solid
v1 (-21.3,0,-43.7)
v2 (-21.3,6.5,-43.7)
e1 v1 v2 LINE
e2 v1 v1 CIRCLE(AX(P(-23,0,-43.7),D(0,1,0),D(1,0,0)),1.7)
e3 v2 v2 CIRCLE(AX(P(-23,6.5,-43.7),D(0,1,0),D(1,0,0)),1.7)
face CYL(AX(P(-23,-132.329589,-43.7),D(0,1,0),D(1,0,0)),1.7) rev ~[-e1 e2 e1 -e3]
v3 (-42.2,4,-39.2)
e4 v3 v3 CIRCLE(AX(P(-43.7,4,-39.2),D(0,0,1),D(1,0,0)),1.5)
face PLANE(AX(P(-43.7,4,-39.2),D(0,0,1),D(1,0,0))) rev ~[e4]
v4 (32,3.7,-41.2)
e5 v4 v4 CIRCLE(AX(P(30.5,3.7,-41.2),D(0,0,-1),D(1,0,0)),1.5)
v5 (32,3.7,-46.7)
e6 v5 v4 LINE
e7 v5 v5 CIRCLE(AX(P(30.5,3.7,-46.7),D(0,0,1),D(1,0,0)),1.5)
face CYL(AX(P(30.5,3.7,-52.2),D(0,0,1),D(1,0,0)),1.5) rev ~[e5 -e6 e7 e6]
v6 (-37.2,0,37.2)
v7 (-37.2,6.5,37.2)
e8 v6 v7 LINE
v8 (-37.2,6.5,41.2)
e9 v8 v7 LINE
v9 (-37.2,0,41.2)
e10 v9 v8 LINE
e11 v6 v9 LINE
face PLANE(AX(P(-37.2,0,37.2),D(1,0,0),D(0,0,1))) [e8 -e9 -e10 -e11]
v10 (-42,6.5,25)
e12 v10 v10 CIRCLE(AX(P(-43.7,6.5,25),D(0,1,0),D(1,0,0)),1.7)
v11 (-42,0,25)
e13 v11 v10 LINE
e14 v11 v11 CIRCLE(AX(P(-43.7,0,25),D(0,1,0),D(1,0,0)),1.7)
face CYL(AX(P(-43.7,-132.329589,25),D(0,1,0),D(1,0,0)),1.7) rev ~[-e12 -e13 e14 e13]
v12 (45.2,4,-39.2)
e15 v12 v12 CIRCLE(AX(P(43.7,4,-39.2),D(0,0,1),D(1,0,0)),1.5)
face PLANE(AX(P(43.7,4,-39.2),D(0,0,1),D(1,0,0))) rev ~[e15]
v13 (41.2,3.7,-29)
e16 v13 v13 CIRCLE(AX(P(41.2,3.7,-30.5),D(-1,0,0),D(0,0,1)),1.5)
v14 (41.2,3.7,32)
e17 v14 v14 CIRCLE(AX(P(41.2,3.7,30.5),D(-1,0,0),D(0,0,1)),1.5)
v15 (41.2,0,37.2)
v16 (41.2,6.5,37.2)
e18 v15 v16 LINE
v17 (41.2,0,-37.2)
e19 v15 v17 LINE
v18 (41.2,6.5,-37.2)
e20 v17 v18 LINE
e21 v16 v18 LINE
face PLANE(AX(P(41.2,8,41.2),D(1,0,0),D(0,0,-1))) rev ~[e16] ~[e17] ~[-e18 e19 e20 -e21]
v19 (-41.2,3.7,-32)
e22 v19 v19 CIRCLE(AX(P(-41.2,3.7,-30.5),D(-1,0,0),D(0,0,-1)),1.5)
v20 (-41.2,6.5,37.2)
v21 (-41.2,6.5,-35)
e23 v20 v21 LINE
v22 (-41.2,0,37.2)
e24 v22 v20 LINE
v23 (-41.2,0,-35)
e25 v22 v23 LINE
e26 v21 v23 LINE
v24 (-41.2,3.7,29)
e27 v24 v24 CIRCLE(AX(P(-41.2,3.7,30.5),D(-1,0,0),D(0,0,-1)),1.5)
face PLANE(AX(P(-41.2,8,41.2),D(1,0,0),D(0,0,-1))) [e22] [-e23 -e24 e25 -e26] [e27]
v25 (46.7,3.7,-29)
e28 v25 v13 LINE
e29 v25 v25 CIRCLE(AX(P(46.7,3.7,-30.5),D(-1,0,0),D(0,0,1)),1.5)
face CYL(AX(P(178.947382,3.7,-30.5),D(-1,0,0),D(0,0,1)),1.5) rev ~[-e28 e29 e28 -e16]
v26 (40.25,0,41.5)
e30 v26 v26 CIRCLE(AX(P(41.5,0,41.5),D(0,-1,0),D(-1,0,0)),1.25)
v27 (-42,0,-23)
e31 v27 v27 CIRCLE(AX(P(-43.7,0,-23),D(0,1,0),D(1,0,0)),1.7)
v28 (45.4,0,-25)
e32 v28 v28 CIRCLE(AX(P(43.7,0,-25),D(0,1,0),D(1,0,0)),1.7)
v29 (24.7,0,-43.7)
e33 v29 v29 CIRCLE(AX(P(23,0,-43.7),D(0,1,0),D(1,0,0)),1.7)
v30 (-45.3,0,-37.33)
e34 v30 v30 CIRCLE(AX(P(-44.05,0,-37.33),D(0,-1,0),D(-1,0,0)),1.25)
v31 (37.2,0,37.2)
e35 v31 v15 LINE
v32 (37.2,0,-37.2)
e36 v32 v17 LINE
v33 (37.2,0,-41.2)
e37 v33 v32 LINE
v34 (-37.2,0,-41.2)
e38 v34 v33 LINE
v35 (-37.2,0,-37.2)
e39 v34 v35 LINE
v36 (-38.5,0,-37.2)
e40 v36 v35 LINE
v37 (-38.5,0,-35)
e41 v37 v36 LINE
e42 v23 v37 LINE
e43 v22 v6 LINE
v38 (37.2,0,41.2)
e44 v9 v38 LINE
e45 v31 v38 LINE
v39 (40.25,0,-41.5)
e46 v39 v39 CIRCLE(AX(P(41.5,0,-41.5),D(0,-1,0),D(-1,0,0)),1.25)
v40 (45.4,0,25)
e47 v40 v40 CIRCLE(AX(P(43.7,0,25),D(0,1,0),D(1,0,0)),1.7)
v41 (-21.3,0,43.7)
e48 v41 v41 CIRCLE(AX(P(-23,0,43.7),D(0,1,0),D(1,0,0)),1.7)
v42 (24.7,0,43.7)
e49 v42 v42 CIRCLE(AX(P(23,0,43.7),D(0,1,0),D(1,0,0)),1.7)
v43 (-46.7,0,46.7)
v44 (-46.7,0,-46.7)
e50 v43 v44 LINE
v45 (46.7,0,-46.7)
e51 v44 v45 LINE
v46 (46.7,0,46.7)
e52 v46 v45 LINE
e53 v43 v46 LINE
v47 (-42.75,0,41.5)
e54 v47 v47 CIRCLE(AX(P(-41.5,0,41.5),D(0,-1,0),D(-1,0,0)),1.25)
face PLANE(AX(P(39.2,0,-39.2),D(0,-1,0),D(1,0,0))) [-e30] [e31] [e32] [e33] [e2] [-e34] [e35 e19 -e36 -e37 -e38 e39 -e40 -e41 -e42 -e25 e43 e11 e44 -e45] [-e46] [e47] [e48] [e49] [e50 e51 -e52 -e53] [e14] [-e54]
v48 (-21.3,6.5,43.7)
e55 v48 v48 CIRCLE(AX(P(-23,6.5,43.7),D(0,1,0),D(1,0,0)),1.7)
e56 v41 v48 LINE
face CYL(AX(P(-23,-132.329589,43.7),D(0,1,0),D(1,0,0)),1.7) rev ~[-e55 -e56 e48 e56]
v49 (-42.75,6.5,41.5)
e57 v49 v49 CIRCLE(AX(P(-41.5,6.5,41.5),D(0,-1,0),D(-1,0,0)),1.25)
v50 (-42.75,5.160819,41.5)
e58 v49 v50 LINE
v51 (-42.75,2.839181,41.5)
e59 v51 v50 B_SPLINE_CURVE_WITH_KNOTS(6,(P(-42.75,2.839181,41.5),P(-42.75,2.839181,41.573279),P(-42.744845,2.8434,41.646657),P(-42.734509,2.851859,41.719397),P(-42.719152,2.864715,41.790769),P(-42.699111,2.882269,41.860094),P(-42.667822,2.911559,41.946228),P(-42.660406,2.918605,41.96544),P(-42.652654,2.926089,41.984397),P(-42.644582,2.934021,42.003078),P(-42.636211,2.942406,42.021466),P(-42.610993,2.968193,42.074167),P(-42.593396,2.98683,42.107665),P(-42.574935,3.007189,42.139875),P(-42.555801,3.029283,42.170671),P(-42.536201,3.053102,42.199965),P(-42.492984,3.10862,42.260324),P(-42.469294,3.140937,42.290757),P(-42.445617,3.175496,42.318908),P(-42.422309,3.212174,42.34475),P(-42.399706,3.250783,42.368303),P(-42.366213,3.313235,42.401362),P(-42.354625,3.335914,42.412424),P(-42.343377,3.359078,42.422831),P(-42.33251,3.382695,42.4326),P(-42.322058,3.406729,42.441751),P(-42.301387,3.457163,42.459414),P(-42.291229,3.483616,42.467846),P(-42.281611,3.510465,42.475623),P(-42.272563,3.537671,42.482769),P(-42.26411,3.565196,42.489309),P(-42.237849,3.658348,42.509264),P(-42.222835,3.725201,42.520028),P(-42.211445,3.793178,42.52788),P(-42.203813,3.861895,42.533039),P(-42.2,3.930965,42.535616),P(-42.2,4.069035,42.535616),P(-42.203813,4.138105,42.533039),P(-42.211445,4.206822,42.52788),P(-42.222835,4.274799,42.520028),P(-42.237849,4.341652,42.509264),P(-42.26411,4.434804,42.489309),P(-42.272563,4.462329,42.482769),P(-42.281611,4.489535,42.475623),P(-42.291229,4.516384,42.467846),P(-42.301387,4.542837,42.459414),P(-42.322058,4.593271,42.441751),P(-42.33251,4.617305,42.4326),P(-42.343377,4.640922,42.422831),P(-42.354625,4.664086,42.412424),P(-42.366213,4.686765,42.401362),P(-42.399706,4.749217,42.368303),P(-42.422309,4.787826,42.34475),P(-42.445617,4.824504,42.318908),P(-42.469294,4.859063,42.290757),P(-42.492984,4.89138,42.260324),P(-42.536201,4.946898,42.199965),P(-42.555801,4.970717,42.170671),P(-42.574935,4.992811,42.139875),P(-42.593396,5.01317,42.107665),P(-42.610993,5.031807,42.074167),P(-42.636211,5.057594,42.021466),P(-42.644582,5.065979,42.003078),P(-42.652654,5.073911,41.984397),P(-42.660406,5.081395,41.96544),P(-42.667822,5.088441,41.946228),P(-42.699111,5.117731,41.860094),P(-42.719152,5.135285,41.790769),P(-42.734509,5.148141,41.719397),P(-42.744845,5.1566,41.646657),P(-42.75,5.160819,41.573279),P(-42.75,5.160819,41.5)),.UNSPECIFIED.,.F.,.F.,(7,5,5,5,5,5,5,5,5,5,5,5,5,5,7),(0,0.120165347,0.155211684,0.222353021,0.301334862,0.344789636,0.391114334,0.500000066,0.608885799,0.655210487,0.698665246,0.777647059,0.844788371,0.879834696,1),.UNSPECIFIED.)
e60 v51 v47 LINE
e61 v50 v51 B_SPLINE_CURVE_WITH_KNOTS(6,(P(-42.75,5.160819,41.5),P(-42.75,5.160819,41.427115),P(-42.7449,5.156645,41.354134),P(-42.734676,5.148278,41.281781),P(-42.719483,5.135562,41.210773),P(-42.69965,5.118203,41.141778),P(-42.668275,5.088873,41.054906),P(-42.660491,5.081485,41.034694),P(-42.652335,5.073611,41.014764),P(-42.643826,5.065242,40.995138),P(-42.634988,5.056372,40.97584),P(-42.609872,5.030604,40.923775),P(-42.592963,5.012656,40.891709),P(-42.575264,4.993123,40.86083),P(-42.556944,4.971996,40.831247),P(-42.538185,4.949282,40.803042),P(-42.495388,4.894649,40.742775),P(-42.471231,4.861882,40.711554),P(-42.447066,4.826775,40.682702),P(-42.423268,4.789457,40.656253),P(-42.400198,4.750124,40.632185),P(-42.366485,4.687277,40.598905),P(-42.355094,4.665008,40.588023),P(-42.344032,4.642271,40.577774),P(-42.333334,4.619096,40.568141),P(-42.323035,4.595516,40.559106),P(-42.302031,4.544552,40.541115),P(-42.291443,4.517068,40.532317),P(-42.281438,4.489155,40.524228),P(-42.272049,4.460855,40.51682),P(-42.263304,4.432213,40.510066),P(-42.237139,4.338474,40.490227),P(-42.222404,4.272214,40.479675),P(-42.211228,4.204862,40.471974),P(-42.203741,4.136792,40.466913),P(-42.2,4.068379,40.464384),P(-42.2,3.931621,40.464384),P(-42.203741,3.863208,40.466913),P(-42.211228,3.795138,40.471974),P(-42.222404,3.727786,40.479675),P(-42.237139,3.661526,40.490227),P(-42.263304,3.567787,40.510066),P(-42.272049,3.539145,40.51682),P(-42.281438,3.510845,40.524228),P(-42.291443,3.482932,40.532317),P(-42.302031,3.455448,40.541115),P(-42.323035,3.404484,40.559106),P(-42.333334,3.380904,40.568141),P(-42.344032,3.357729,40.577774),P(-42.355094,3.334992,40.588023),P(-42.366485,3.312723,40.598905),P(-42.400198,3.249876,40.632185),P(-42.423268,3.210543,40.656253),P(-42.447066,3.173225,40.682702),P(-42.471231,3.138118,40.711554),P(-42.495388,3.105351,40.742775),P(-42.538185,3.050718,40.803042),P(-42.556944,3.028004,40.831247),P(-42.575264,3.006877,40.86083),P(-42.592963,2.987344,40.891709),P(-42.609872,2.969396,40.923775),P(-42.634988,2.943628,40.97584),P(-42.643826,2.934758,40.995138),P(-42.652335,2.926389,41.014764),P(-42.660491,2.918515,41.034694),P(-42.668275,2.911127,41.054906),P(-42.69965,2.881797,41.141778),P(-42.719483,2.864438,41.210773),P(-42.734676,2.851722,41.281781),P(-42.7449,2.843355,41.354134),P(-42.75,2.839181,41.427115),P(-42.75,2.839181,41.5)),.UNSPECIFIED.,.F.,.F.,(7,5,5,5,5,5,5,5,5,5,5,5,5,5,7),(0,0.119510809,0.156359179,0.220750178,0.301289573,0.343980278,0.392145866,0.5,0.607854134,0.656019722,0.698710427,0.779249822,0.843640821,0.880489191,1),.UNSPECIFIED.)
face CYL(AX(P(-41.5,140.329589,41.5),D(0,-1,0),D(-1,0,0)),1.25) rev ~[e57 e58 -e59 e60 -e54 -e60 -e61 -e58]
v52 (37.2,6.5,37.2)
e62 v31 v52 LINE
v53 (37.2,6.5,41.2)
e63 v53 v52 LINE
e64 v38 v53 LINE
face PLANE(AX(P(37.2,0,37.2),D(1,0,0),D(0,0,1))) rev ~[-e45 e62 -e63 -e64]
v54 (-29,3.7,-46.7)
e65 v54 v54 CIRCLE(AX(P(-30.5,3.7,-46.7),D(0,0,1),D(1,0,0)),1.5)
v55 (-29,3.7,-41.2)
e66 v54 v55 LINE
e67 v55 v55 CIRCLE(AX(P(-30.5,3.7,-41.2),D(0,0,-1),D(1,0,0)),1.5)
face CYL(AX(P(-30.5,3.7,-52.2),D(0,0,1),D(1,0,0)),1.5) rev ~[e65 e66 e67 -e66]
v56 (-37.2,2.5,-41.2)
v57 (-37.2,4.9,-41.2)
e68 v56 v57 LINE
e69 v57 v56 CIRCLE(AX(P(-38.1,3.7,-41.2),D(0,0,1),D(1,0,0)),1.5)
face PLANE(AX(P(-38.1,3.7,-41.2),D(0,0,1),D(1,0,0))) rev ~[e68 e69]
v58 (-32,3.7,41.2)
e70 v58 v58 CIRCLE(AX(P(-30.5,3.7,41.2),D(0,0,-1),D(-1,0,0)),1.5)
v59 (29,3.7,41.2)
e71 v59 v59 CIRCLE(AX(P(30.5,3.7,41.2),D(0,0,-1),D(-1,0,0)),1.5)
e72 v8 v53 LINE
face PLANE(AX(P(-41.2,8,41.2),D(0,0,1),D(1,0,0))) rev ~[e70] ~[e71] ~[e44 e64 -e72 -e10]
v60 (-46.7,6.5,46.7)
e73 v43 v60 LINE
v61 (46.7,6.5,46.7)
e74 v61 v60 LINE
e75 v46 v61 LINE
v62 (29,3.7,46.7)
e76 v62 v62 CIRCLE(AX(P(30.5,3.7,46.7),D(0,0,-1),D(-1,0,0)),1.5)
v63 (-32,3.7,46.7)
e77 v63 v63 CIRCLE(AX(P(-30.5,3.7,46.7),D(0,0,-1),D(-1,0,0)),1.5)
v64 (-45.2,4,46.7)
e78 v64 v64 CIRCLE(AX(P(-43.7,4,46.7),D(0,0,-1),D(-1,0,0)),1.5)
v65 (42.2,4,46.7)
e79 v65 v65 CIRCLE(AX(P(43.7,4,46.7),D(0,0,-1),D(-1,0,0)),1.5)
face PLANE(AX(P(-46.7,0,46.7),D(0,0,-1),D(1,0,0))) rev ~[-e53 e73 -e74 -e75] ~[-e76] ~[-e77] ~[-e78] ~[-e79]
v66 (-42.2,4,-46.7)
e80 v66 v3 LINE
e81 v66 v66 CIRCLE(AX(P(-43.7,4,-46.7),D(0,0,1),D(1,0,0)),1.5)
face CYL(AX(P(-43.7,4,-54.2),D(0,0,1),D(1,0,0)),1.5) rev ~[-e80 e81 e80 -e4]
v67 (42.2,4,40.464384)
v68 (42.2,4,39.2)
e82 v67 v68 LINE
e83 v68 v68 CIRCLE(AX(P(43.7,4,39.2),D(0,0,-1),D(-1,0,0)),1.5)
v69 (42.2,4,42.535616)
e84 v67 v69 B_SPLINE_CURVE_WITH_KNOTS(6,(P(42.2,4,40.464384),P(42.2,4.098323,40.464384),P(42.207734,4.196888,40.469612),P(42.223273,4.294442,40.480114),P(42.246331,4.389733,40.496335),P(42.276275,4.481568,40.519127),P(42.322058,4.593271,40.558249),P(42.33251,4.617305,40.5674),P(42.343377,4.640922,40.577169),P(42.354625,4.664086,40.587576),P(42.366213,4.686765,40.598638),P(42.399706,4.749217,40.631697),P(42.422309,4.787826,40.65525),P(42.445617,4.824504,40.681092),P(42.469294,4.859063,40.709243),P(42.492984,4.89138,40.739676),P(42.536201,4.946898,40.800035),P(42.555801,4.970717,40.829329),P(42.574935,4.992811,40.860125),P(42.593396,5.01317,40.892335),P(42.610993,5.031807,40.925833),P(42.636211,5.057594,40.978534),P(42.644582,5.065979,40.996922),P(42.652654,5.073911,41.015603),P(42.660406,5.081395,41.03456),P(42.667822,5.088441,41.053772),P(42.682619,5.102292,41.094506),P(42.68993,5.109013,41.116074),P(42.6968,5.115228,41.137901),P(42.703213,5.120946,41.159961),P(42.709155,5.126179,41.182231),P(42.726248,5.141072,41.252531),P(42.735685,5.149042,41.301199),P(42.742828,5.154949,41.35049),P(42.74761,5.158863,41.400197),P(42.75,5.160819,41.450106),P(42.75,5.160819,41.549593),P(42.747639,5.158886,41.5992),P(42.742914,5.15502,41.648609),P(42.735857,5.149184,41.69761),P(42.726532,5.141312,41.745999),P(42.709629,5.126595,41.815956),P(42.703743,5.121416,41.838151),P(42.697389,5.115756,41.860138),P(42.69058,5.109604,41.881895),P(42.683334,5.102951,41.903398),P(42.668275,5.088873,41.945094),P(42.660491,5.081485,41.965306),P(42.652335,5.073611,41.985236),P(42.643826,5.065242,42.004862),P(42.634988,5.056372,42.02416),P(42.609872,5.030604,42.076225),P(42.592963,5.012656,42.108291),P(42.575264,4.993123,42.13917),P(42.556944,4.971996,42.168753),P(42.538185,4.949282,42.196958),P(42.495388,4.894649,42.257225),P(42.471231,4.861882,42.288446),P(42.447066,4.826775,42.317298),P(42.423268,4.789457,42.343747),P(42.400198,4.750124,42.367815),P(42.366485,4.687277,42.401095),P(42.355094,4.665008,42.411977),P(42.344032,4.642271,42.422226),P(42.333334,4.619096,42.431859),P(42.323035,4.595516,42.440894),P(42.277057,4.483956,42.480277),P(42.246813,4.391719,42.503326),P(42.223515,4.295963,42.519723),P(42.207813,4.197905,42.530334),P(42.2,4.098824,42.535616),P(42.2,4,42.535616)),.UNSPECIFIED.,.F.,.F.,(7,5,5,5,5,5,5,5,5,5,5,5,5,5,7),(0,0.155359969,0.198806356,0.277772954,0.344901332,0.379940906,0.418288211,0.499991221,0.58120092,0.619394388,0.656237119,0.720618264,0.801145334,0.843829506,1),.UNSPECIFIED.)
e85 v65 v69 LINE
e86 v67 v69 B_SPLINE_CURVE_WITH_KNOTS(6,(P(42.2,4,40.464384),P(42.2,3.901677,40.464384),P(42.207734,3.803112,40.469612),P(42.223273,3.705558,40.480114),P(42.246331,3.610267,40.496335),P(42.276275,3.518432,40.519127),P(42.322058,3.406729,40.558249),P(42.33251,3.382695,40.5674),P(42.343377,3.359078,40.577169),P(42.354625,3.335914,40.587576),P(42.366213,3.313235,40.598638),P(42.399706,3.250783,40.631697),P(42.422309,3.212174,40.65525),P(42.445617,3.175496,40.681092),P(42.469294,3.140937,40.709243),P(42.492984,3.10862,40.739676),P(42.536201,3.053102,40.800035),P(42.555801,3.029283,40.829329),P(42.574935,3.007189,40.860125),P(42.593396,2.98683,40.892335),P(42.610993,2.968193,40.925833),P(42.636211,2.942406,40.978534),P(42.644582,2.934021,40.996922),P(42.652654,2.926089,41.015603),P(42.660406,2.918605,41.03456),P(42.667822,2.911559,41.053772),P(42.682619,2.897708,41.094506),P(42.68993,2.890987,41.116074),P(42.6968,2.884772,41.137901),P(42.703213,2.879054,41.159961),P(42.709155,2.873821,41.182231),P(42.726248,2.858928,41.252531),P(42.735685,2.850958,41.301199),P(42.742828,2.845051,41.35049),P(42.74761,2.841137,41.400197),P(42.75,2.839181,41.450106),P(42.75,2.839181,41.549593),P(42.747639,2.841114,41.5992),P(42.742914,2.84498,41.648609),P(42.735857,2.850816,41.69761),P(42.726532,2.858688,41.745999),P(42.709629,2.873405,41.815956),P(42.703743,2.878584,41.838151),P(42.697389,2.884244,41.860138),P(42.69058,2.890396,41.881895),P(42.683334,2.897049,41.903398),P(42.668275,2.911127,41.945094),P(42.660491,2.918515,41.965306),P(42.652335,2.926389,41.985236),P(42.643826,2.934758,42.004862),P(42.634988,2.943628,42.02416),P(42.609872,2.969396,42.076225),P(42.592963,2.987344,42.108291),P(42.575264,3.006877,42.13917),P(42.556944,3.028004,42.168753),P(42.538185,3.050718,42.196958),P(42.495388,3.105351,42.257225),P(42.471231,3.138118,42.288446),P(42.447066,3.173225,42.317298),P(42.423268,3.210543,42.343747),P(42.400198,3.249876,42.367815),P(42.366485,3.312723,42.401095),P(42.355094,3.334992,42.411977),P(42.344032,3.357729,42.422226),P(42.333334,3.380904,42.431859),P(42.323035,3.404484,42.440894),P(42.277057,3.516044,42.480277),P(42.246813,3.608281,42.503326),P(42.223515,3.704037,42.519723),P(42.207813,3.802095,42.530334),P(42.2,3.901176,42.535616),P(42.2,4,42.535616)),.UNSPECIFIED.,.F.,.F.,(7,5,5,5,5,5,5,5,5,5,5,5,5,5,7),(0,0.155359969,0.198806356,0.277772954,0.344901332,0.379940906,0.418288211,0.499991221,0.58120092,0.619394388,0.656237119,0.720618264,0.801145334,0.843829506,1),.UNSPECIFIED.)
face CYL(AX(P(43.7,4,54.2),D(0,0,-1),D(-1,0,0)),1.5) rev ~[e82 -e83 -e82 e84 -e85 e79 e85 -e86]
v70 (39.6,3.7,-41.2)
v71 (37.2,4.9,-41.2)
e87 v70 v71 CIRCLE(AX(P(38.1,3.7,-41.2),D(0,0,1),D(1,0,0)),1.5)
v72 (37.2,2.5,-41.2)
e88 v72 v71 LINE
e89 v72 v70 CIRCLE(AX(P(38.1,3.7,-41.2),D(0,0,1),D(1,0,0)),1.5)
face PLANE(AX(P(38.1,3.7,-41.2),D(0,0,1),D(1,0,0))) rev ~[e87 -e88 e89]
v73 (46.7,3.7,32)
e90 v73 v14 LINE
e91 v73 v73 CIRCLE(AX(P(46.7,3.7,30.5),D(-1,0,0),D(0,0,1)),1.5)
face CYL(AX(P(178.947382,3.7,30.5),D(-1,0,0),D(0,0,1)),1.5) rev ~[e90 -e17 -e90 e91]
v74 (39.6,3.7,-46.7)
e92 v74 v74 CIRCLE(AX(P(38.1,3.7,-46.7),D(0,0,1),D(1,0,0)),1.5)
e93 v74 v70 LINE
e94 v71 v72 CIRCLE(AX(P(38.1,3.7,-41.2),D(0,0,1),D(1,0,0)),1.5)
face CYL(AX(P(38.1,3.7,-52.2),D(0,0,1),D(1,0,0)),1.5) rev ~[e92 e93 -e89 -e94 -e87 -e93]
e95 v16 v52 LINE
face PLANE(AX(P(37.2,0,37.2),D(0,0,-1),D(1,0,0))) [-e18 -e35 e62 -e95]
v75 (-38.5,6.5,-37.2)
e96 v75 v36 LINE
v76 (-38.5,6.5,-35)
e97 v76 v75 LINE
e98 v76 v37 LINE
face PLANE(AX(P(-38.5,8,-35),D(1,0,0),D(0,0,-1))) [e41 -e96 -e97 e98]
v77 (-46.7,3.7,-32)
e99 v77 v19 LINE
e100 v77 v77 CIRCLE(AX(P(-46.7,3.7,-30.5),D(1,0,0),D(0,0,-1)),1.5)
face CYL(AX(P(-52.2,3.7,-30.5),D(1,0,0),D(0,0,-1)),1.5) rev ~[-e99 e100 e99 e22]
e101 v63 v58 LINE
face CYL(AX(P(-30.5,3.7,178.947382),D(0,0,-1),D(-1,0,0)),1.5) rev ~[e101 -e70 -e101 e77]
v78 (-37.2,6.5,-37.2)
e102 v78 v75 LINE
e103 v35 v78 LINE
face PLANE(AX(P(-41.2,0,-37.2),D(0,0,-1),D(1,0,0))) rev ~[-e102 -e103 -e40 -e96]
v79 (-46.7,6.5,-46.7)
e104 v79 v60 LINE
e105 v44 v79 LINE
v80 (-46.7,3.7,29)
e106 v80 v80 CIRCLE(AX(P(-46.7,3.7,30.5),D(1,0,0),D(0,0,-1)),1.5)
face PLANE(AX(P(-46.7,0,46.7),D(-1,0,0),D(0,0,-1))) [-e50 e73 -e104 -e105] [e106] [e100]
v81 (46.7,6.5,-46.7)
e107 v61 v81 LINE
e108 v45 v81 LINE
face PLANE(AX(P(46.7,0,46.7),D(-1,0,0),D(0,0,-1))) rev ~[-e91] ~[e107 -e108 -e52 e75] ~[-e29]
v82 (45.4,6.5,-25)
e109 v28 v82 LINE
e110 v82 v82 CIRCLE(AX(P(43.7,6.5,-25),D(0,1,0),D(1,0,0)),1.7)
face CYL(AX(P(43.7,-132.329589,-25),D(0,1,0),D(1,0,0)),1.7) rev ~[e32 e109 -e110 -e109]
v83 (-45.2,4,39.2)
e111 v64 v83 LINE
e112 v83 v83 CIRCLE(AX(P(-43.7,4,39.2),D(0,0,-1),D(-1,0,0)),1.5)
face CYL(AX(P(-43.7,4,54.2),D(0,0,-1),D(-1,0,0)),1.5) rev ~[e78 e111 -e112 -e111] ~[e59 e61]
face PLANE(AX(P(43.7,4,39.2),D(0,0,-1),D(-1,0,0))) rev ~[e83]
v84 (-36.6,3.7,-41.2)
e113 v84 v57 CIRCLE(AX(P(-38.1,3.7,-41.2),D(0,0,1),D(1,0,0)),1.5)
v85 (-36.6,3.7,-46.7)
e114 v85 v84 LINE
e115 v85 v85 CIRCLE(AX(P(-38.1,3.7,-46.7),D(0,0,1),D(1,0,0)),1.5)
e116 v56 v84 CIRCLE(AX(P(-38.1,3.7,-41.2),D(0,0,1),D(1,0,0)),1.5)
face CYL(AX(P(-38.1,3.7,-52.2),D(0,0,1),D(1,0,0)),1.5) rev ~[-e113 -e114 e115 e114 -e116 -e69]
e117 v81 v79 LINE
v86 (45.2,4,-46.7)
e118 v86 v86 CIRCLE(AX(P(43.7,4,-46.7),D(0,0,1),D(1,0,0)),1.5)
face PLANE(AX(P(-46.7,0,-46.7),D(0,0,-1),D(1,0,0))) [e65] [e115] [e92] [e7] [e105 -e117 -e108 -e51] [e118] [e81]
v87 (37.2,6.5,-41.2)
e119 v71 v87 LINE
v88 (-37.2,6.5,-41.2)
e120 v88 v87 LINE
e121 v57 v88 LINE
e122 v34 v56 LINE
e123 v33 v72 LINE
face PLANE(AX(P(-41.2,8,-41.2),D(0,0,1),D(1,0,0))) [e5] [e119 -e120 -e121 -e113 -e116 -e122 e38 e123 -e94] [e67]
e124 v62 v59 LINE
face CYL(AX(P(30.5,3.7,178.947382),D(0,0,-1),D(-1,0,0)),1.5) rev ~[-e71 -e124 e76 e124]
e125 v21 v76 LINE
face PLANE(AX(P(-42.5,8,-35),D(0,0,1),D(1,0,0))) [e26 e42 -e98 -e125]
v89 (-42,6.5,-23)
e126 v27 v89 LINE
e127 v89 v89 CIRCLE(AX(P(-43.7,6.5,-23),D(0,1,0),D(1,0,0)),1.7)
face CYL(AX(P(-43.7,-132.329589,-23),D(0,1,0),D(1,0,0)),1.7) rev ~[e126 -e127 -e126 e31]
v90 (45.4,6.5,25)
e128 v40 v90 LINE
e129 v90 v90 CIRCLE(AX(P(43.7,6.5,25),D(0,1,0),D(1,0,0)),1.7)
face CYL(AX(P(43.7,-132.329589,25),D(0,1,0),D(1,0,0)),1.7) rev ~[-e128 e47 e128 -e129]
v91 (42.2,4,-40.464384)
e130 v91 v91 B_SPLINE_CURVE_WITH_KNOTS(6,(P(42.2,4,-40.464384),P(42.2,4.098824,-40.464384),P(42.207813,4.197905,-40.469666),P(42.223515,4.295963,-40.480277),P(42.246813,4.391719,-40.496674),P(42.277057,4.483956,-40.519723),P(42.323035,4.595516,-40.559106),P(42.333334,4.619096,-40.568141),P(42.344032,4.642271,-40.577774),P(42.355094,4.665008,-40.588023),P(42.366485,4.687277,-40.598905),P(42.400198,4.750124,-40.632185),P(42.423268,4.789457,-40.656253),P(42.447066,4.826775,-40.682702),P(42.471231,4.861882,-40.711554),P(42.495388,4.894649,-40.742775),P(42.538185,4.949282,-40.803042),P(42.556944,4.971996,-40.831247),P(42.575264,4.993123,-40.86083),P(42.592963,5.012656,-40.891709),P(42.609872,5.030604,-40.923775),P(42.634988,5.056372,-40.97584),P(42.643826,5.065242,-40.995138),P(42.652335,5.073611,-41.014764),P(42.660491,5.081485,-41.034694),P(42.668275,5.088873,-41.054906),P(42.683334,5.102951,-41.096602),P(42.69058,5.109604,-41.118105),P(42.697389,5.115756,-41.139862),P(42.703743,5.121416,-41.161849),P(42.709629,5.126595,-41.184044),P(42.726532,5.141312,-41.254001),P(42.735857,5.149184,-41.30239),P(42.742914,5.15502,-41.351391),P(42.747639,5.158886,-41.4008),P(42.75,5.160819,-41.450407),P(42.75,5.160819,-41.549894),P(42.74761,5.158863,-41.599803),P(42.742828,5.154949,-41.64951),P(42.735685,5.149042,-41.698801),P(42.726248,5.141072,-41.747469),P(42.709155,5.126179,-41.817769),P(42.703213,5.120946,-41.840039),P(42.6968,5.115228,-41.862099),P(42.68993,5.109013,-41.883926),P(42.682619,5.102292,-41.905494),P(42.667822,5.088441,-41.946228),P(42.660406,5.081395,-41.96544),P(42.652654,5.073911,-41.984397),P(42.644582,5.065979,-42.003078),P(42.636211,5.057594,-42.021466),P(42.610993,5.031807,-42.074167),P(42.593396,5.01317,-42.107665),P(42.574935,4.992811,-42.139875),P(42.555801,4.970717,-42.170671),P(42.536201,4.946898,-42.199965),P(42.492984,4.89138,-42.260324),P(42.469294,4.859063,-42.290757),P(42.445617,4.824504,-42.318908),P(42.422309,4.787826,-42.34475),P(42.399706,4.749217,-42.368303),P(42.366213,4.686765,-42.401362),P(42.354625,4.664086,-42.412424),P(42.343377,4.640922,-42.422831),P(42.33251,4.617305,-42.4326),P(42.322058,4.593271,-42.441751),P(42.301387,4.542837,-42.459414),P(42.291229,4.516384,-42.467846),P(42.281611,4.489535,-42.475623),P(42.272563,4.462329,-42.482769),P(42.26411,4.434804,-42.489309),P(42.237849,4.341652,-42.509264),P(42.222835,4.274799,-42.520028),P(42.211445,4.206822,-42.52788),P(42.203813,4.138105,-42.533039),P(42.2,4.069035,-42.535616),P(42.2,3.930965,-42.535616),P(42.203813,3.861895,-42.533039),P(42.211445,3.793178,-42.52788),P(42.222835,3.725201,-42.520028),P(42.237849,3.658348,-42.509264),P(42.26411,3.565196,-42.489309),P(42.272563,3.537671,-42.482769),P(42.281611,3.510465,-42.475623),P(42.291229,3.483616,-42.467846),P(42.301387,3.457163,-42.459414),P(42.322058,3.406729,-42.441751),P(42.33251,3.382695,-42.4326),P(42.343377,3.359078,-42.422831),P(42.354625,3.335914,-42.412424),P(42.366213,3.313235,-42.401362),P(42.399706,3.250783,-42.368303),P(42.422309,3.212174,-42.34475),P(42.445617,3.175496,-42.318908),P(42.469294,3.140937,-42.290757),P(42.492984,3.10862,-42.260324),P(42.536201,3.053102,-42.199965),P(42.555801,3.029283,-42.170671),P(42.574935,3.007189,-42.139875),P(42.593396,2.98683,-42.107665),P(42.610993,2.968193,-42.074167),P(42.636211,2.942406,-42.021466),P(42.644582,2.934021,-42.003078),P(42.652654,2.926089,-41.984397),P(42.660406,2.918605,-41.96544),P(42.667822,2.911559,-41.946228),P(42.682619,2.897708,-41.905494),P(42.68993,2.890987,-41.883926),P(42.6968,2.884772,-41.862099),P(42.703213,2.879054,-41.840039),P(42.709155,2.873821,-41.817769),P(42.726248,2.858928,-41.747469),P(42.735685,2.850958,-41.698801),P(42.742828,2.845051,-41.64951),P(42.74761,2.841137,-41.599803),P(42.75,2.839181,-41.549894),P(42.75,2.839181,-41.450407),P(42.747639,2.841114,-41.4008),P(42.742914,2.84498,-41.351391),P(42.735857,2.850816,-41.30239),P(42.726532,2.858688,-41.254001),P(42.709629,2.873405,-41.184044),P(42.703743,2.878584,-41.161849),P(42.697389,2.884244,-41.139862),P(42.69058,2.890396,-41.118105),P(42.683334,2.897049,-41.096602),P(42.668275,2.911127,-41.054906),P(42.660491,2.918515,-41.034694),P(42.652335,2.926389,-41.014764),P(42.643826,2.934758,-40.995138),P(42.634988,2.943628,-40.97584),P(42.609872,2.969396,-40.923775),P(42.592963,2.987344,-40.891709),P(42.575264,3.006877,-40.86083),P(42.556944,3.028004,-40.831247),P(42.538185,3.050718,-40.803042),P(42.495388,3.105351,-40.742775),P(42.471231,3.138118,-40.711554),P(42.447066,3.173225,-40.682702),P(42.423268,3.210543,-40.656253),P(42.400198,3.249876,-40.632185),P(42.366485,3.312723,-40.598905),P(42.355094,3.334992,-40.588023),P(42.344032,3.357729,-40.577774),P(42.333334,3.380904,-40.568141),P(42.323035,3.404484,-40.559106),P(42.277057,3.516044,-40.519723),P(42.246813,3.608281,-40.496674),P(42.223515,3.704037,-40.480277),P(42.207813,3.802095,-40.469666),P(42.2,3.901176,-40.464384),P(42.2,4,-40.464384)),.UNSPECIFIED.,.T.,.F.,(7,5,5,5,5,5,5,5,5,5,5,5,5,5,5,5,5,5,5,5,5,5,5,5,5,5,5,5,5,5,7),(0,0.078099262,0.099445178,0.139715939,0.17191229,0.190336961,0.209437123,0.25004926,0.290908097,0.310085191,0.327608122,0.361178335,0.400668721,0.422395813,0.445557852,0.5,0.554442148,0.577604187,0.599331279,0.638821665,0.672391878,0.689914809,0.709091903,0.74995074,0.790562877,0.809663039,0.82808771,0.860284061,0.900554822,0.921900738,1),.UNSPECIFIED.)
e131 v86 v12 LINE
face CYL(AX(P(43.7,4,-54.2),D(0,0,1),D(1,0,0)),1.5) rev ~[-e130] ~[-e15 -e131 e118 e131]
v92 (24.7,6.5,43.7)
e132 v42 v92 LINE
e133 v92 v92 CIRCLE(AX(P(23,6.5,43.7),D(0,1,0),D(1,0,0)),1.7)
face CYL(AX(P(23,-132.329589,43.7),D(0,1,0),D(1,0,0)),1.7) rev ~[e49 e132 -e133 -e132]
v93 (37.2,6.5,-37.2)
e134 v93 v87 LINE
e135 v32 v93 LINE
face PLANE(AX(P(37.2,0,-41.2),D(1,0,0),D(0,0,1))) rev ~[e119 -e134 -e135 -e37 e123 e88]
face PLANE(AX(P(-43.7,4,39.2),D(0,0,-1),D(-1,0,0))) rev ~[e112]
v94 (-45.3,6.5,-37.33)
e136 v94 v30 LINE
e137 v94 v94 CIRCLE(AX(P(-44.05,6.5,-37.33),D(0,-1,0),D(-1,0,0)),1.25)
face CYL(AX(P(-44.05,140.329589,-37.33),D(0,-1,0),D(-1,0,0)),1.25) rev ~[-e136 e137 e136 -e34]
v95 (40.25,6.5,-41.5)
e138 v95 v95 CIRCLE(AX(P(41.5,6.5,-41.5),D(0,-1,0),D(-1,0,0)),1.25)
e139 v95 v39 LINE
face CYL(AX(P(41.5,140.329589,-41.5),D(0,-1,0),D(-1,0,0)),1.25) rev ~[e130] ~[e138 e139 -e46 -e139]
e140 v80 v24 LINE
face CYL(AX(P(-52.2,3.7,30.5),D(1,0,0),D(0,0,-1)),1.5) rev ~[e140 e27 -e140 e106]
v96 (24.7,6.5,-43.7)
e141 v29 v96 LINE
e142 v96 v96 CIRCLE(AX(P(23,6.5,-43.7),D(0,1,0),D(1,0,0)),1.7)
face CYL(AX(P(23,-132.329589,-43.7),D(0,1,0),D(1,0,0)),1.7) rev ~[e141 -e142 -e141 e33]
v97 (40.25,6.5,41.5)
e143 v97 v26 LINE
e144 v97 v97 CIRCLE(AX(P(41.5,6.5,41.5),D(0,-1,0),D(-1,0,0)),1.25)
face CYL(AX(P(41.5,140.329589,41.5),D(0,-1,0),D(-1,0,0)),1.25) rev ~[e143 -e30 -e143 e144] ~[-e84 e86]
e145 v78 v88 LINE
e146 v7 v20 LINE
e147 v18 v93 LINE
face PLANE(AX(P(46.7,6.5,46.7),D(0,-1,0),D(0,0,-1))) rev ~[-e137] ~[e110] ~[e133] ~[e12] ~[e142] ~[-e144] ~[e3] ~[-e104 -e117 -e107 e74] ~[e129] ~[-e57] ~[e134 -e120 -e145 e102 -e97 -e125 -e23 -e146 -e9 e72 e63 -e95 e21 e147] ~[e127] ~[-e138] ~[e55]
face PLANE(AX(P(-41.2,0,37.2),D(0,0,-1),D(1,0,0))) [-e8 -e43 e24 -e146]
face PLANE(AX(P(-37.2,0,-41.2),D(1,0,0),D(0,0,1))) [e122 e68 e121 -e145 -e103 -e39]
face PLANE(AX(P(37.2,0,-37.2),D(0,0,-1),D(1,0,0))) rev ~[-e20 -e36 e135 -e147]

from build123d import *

# Parameters (mm, degrees)
SKETCH1_W                       = 93.4
SKETCH1_H                       = 93.4
SKETCH1_W_2                     = 77.4
SKETCH1_H_2                     = 77.4
BOSS_EXTRUDE1_DEPTH             = 8
F_3_0_3_DIAMETER_HOLE6_D        = 3
F_3_0_3_DIAMETER_HOLE6_DEPTH    = 7.5
F_3_0_3_DIAMETER_HOLE3_D        = 3
F_3_0_3_DIAMETER_HOLE3_DEPTH    = 7.5
SKETCH27_W                      = 79.4
SKETCH27_H                      = 79.4
CUT_EXTRUDE2_DEPTH              = 10
F_3_4_3_4_DIAMETER_HOLE1_D      = 3.4
SKETCH38_W                      = 82.4
SKETCH38_H                      = 82.4
CUT_EXTRUDE4_DEPTH              = 10
SKETCH44_W                      = 4
SKETCH44_H                      = 4
BOSS_EXTRUDE2_DEPTH             = 8
SKETCH45_W                      = 4
SKETCH45_H                      = 3.5
BOSS_EXTRUDE3_DEPTH             = 8
TAP_DRILL_FOR_M3X0_5_TAP1_D     = 2.5
SKETCH49_W                      = 93.4
SKETCH49_H                      = 1.5
CUT_EXTRUDE5_DEPTH              = 146
TAP_DRILL_FOR_M3X0_5_TAP2_D     = 3
TAP_DRILL_FOR_M3X0_5_TAP2_DEPTH = 5.5
TAP_DRILL_FOR_M3X0_5_TAP3_D     = 3
TAP_DRILL_FOR_M3X0_5_TAP3_DEPTH = 5.5
TAP_DRILL_FOR_M3X0_5_TAP4_D     = 3
TAP_DRILL_FOR_M3X0_5_TAP5_D     = 3
TAP_DRILL_FOR_M3X0_5_TAP6_D     = 3
TAP_DRILL_FOR_M3X0_5_TAP6_DEPTH = 5.5


with BuildPart() as part:
    # Sketch1 → Boss-Extrude1 (new body)
    with BuildSketch(Plane(origin=(0, 0, 0), x_dir=(1, 0, 0), z_dir=(0, 1, 0))):
        Rectangle(SKETCH1_W, SKETCH1_H)
        Rectangle(SKETCH1_W_2, SKETCH1_H_2, mode=Mode.SUBTRACT)
    extrude(amount=BOSS_EXTRUDE1_DEPTH)

    # Ø3.0 (3) Diameter Hole6
    with Locations(Plane.XY.offset(46.7)):
        with Locations((43.7, 4), (-43.7, 4)):
            Hole(F_3_0_3_DIAMETER_HOLE6_D / 2, depth=F_3_0_3_DIAMETER_HOLE6_DEPTH)

    # Ø3.0 (3) Diameter Hole3
    with Locations(Plane(origin=(0, 0, -46.7), x_dir=(-1, 0, 0), z_dir=(0, 0, -1))):
        with Locations((-43.7, 4), (43.7, 4)):
            Hole(F_3_0_3_DIAMETER_HOLE3_D / 2, depth=F_3_0_3_DIAMETER_HOLE3_DEPTH)

    # Sketch27 → Cut-Extrude2 (cut)
    with BuildSketch(Plane(origin=(0, 8, 0), x_dir=(1, 0, 0), z_dir=(0, 1, 0))):
        Rectangle(SKETCH27_W, SKETCH27_H)
    extrude(amount=-CUT_EXTRUDE2_DEPTH, mode=Mode.SUBTRACT)

    # Ø3.4 (3.4) Diameter Hole1 (through all)
    with Locations(Plane(origin=(0, 0, 0), x_dir=(-1, 0, 0), z_dir=(0, -1, 0))):
        with Locations((-23, 43.7), (23, 43.7), (43.7, 23), (43.7, -25), (23, -43.7), (-23, -43.7), (-43.7, -25), (-43.7, 25)):
            Hole(F_3_4_3_4_DIAMETER_HOLE1_D / 2)

    # Sketch38 → Cut-Extrude4 (cut)
    with BuildSketch(Plane(origin=(0, 8, 0), x_dir=(1, 0, 0), z_dir=(0, 1, 0))):
        Rectangle(SKETCH38_W, SKETCH38_H)
    extrude(amount=-CUT_EXTRUDE4_DEPTH, mode=Mode.SUBTRACT)

    # Sketch44 → Boss-Extrude2 (add)
    with BuildSketch(Plane.XZ):
        with Locations((39.2, -39.2)):
            Rectangle(SKETCH44_W, SKETCH44_H)
        with Locations((-39.2, -39.2)):
            Rectangle(SKETCH44_W, SKETCH44_H)
        with Locations((-39.2, 39.2)):
            Rectangle(SKETCH44_W, SKETCH44_H)
        with Locations((39.2, 39.2)):
            Rectangle(SKETCH44_W, SKETCH44_H)
    extrude(amount=-BOSS_EXTRUDE2_DEPTH)

    # Sketch45 → Boss-Extrude3 (add)
    with BuildSketch(Plane(origin=(0, 8, 0), x_dir=(1, 0, 0), z_dir=(0, 1, 0))):
        with Locations((-40.5, 36.75)):
            Rectangle(SKETCH45_W, SKETCH45_H)
    extrude(amount=-BOSS_EXTRUDE3_DEPTH)

    # Tap Drill for M3x0.5 Tap1 (through all)
    with Locations(Plane(origin=(0, 8, 0), x_dir=(1, 0, 0), z_dir=(0, 1, 0))):
        with Locations((41.5, 41.5), (41.5, -41.5), (-41.5, -41.5), (-44.05, 37.33)):
            Hole(TAP_DRILL_FOR_M3X0_5_TAP1_D / 2)

    # Sketch49 → Cut-Extrude5 (cut)
    with BuildSketch(Plane(origin=(46.7, 0, 0), x_dir=(0, 0, -1), z_dir=(1, 0, 0))):
        with Locations((0, 7.25)):
            Rectangle(SKETCH49_W, SKETCH49_H)
    extrude(amount=-CUT_EXTRUDE5_DEPTH, mode=Mode.SUBTRACT)

    # Tap Drill for M3x0.5 Tap2
    with Locations(Plane.ZY.offset(46.7)):
        with Locations((30.5, 3.7), (-30.5, 3.7)):
            Hole(TAP_DRILL_FOR_M3X0_5_TAP2_D / 2, depth=TAP_DRILL_FOR_M3X0_5_TAP2_DEPTH)

    # Tap Drill for M3x0.5 Tap3
    with Locations(Plane(origin=(0, 0, -46.7), x_dir=(-1, 0, 0), z_dir=(0, 0, -1))):
        with Locations((30.5, 3.7), (-30.5, 3.7)):
            Hole(TAP_DRILL_FOR_M3X0_5_TAP3_D / 2, depth=TAP_DRILL_FOR_M3X0_5_TAP3_DEPTH)

    # Tap Drill for M3x0.5 Tap4 (through all)
    with Locations(Plane(origin=(46.7, 0, 0), x_dir=(0, 0, -1), z_dir=(1, 0, 0))):
        with Locations((30.5, 3.7), (-30.5, 3.7)):
            Hole(TAP_DRILL_FOR_M3X0_5_TAP4_D / 2)

    # Tap Drill for M3x0.5 Tap5 (through all)
    with Locations(Plane.XY.offset(46.7)):
        with Locations((30.5, 3.7), (-30.5, 3.7)):
            Hole(TAP_DRILL_FOR_M3X0_5_TAP5_D / 2)

    # Tap Drill for M3x0.5 Tap6
    with Locations(Plane(origin=(0, 0, -46.7), x_dir=(-1, 0, 0), z_dir=(0, 0, -1))):
        with Locations((38.1, 3.7), (-38.1, 3.7)):
            Hole(TAP_DRILL_FOR_M3X0_5_TAP6_D / 2, depth=TAP_DRILL_FOR_M3X0_5_TAP6_DEPTH)


solid = part.part
